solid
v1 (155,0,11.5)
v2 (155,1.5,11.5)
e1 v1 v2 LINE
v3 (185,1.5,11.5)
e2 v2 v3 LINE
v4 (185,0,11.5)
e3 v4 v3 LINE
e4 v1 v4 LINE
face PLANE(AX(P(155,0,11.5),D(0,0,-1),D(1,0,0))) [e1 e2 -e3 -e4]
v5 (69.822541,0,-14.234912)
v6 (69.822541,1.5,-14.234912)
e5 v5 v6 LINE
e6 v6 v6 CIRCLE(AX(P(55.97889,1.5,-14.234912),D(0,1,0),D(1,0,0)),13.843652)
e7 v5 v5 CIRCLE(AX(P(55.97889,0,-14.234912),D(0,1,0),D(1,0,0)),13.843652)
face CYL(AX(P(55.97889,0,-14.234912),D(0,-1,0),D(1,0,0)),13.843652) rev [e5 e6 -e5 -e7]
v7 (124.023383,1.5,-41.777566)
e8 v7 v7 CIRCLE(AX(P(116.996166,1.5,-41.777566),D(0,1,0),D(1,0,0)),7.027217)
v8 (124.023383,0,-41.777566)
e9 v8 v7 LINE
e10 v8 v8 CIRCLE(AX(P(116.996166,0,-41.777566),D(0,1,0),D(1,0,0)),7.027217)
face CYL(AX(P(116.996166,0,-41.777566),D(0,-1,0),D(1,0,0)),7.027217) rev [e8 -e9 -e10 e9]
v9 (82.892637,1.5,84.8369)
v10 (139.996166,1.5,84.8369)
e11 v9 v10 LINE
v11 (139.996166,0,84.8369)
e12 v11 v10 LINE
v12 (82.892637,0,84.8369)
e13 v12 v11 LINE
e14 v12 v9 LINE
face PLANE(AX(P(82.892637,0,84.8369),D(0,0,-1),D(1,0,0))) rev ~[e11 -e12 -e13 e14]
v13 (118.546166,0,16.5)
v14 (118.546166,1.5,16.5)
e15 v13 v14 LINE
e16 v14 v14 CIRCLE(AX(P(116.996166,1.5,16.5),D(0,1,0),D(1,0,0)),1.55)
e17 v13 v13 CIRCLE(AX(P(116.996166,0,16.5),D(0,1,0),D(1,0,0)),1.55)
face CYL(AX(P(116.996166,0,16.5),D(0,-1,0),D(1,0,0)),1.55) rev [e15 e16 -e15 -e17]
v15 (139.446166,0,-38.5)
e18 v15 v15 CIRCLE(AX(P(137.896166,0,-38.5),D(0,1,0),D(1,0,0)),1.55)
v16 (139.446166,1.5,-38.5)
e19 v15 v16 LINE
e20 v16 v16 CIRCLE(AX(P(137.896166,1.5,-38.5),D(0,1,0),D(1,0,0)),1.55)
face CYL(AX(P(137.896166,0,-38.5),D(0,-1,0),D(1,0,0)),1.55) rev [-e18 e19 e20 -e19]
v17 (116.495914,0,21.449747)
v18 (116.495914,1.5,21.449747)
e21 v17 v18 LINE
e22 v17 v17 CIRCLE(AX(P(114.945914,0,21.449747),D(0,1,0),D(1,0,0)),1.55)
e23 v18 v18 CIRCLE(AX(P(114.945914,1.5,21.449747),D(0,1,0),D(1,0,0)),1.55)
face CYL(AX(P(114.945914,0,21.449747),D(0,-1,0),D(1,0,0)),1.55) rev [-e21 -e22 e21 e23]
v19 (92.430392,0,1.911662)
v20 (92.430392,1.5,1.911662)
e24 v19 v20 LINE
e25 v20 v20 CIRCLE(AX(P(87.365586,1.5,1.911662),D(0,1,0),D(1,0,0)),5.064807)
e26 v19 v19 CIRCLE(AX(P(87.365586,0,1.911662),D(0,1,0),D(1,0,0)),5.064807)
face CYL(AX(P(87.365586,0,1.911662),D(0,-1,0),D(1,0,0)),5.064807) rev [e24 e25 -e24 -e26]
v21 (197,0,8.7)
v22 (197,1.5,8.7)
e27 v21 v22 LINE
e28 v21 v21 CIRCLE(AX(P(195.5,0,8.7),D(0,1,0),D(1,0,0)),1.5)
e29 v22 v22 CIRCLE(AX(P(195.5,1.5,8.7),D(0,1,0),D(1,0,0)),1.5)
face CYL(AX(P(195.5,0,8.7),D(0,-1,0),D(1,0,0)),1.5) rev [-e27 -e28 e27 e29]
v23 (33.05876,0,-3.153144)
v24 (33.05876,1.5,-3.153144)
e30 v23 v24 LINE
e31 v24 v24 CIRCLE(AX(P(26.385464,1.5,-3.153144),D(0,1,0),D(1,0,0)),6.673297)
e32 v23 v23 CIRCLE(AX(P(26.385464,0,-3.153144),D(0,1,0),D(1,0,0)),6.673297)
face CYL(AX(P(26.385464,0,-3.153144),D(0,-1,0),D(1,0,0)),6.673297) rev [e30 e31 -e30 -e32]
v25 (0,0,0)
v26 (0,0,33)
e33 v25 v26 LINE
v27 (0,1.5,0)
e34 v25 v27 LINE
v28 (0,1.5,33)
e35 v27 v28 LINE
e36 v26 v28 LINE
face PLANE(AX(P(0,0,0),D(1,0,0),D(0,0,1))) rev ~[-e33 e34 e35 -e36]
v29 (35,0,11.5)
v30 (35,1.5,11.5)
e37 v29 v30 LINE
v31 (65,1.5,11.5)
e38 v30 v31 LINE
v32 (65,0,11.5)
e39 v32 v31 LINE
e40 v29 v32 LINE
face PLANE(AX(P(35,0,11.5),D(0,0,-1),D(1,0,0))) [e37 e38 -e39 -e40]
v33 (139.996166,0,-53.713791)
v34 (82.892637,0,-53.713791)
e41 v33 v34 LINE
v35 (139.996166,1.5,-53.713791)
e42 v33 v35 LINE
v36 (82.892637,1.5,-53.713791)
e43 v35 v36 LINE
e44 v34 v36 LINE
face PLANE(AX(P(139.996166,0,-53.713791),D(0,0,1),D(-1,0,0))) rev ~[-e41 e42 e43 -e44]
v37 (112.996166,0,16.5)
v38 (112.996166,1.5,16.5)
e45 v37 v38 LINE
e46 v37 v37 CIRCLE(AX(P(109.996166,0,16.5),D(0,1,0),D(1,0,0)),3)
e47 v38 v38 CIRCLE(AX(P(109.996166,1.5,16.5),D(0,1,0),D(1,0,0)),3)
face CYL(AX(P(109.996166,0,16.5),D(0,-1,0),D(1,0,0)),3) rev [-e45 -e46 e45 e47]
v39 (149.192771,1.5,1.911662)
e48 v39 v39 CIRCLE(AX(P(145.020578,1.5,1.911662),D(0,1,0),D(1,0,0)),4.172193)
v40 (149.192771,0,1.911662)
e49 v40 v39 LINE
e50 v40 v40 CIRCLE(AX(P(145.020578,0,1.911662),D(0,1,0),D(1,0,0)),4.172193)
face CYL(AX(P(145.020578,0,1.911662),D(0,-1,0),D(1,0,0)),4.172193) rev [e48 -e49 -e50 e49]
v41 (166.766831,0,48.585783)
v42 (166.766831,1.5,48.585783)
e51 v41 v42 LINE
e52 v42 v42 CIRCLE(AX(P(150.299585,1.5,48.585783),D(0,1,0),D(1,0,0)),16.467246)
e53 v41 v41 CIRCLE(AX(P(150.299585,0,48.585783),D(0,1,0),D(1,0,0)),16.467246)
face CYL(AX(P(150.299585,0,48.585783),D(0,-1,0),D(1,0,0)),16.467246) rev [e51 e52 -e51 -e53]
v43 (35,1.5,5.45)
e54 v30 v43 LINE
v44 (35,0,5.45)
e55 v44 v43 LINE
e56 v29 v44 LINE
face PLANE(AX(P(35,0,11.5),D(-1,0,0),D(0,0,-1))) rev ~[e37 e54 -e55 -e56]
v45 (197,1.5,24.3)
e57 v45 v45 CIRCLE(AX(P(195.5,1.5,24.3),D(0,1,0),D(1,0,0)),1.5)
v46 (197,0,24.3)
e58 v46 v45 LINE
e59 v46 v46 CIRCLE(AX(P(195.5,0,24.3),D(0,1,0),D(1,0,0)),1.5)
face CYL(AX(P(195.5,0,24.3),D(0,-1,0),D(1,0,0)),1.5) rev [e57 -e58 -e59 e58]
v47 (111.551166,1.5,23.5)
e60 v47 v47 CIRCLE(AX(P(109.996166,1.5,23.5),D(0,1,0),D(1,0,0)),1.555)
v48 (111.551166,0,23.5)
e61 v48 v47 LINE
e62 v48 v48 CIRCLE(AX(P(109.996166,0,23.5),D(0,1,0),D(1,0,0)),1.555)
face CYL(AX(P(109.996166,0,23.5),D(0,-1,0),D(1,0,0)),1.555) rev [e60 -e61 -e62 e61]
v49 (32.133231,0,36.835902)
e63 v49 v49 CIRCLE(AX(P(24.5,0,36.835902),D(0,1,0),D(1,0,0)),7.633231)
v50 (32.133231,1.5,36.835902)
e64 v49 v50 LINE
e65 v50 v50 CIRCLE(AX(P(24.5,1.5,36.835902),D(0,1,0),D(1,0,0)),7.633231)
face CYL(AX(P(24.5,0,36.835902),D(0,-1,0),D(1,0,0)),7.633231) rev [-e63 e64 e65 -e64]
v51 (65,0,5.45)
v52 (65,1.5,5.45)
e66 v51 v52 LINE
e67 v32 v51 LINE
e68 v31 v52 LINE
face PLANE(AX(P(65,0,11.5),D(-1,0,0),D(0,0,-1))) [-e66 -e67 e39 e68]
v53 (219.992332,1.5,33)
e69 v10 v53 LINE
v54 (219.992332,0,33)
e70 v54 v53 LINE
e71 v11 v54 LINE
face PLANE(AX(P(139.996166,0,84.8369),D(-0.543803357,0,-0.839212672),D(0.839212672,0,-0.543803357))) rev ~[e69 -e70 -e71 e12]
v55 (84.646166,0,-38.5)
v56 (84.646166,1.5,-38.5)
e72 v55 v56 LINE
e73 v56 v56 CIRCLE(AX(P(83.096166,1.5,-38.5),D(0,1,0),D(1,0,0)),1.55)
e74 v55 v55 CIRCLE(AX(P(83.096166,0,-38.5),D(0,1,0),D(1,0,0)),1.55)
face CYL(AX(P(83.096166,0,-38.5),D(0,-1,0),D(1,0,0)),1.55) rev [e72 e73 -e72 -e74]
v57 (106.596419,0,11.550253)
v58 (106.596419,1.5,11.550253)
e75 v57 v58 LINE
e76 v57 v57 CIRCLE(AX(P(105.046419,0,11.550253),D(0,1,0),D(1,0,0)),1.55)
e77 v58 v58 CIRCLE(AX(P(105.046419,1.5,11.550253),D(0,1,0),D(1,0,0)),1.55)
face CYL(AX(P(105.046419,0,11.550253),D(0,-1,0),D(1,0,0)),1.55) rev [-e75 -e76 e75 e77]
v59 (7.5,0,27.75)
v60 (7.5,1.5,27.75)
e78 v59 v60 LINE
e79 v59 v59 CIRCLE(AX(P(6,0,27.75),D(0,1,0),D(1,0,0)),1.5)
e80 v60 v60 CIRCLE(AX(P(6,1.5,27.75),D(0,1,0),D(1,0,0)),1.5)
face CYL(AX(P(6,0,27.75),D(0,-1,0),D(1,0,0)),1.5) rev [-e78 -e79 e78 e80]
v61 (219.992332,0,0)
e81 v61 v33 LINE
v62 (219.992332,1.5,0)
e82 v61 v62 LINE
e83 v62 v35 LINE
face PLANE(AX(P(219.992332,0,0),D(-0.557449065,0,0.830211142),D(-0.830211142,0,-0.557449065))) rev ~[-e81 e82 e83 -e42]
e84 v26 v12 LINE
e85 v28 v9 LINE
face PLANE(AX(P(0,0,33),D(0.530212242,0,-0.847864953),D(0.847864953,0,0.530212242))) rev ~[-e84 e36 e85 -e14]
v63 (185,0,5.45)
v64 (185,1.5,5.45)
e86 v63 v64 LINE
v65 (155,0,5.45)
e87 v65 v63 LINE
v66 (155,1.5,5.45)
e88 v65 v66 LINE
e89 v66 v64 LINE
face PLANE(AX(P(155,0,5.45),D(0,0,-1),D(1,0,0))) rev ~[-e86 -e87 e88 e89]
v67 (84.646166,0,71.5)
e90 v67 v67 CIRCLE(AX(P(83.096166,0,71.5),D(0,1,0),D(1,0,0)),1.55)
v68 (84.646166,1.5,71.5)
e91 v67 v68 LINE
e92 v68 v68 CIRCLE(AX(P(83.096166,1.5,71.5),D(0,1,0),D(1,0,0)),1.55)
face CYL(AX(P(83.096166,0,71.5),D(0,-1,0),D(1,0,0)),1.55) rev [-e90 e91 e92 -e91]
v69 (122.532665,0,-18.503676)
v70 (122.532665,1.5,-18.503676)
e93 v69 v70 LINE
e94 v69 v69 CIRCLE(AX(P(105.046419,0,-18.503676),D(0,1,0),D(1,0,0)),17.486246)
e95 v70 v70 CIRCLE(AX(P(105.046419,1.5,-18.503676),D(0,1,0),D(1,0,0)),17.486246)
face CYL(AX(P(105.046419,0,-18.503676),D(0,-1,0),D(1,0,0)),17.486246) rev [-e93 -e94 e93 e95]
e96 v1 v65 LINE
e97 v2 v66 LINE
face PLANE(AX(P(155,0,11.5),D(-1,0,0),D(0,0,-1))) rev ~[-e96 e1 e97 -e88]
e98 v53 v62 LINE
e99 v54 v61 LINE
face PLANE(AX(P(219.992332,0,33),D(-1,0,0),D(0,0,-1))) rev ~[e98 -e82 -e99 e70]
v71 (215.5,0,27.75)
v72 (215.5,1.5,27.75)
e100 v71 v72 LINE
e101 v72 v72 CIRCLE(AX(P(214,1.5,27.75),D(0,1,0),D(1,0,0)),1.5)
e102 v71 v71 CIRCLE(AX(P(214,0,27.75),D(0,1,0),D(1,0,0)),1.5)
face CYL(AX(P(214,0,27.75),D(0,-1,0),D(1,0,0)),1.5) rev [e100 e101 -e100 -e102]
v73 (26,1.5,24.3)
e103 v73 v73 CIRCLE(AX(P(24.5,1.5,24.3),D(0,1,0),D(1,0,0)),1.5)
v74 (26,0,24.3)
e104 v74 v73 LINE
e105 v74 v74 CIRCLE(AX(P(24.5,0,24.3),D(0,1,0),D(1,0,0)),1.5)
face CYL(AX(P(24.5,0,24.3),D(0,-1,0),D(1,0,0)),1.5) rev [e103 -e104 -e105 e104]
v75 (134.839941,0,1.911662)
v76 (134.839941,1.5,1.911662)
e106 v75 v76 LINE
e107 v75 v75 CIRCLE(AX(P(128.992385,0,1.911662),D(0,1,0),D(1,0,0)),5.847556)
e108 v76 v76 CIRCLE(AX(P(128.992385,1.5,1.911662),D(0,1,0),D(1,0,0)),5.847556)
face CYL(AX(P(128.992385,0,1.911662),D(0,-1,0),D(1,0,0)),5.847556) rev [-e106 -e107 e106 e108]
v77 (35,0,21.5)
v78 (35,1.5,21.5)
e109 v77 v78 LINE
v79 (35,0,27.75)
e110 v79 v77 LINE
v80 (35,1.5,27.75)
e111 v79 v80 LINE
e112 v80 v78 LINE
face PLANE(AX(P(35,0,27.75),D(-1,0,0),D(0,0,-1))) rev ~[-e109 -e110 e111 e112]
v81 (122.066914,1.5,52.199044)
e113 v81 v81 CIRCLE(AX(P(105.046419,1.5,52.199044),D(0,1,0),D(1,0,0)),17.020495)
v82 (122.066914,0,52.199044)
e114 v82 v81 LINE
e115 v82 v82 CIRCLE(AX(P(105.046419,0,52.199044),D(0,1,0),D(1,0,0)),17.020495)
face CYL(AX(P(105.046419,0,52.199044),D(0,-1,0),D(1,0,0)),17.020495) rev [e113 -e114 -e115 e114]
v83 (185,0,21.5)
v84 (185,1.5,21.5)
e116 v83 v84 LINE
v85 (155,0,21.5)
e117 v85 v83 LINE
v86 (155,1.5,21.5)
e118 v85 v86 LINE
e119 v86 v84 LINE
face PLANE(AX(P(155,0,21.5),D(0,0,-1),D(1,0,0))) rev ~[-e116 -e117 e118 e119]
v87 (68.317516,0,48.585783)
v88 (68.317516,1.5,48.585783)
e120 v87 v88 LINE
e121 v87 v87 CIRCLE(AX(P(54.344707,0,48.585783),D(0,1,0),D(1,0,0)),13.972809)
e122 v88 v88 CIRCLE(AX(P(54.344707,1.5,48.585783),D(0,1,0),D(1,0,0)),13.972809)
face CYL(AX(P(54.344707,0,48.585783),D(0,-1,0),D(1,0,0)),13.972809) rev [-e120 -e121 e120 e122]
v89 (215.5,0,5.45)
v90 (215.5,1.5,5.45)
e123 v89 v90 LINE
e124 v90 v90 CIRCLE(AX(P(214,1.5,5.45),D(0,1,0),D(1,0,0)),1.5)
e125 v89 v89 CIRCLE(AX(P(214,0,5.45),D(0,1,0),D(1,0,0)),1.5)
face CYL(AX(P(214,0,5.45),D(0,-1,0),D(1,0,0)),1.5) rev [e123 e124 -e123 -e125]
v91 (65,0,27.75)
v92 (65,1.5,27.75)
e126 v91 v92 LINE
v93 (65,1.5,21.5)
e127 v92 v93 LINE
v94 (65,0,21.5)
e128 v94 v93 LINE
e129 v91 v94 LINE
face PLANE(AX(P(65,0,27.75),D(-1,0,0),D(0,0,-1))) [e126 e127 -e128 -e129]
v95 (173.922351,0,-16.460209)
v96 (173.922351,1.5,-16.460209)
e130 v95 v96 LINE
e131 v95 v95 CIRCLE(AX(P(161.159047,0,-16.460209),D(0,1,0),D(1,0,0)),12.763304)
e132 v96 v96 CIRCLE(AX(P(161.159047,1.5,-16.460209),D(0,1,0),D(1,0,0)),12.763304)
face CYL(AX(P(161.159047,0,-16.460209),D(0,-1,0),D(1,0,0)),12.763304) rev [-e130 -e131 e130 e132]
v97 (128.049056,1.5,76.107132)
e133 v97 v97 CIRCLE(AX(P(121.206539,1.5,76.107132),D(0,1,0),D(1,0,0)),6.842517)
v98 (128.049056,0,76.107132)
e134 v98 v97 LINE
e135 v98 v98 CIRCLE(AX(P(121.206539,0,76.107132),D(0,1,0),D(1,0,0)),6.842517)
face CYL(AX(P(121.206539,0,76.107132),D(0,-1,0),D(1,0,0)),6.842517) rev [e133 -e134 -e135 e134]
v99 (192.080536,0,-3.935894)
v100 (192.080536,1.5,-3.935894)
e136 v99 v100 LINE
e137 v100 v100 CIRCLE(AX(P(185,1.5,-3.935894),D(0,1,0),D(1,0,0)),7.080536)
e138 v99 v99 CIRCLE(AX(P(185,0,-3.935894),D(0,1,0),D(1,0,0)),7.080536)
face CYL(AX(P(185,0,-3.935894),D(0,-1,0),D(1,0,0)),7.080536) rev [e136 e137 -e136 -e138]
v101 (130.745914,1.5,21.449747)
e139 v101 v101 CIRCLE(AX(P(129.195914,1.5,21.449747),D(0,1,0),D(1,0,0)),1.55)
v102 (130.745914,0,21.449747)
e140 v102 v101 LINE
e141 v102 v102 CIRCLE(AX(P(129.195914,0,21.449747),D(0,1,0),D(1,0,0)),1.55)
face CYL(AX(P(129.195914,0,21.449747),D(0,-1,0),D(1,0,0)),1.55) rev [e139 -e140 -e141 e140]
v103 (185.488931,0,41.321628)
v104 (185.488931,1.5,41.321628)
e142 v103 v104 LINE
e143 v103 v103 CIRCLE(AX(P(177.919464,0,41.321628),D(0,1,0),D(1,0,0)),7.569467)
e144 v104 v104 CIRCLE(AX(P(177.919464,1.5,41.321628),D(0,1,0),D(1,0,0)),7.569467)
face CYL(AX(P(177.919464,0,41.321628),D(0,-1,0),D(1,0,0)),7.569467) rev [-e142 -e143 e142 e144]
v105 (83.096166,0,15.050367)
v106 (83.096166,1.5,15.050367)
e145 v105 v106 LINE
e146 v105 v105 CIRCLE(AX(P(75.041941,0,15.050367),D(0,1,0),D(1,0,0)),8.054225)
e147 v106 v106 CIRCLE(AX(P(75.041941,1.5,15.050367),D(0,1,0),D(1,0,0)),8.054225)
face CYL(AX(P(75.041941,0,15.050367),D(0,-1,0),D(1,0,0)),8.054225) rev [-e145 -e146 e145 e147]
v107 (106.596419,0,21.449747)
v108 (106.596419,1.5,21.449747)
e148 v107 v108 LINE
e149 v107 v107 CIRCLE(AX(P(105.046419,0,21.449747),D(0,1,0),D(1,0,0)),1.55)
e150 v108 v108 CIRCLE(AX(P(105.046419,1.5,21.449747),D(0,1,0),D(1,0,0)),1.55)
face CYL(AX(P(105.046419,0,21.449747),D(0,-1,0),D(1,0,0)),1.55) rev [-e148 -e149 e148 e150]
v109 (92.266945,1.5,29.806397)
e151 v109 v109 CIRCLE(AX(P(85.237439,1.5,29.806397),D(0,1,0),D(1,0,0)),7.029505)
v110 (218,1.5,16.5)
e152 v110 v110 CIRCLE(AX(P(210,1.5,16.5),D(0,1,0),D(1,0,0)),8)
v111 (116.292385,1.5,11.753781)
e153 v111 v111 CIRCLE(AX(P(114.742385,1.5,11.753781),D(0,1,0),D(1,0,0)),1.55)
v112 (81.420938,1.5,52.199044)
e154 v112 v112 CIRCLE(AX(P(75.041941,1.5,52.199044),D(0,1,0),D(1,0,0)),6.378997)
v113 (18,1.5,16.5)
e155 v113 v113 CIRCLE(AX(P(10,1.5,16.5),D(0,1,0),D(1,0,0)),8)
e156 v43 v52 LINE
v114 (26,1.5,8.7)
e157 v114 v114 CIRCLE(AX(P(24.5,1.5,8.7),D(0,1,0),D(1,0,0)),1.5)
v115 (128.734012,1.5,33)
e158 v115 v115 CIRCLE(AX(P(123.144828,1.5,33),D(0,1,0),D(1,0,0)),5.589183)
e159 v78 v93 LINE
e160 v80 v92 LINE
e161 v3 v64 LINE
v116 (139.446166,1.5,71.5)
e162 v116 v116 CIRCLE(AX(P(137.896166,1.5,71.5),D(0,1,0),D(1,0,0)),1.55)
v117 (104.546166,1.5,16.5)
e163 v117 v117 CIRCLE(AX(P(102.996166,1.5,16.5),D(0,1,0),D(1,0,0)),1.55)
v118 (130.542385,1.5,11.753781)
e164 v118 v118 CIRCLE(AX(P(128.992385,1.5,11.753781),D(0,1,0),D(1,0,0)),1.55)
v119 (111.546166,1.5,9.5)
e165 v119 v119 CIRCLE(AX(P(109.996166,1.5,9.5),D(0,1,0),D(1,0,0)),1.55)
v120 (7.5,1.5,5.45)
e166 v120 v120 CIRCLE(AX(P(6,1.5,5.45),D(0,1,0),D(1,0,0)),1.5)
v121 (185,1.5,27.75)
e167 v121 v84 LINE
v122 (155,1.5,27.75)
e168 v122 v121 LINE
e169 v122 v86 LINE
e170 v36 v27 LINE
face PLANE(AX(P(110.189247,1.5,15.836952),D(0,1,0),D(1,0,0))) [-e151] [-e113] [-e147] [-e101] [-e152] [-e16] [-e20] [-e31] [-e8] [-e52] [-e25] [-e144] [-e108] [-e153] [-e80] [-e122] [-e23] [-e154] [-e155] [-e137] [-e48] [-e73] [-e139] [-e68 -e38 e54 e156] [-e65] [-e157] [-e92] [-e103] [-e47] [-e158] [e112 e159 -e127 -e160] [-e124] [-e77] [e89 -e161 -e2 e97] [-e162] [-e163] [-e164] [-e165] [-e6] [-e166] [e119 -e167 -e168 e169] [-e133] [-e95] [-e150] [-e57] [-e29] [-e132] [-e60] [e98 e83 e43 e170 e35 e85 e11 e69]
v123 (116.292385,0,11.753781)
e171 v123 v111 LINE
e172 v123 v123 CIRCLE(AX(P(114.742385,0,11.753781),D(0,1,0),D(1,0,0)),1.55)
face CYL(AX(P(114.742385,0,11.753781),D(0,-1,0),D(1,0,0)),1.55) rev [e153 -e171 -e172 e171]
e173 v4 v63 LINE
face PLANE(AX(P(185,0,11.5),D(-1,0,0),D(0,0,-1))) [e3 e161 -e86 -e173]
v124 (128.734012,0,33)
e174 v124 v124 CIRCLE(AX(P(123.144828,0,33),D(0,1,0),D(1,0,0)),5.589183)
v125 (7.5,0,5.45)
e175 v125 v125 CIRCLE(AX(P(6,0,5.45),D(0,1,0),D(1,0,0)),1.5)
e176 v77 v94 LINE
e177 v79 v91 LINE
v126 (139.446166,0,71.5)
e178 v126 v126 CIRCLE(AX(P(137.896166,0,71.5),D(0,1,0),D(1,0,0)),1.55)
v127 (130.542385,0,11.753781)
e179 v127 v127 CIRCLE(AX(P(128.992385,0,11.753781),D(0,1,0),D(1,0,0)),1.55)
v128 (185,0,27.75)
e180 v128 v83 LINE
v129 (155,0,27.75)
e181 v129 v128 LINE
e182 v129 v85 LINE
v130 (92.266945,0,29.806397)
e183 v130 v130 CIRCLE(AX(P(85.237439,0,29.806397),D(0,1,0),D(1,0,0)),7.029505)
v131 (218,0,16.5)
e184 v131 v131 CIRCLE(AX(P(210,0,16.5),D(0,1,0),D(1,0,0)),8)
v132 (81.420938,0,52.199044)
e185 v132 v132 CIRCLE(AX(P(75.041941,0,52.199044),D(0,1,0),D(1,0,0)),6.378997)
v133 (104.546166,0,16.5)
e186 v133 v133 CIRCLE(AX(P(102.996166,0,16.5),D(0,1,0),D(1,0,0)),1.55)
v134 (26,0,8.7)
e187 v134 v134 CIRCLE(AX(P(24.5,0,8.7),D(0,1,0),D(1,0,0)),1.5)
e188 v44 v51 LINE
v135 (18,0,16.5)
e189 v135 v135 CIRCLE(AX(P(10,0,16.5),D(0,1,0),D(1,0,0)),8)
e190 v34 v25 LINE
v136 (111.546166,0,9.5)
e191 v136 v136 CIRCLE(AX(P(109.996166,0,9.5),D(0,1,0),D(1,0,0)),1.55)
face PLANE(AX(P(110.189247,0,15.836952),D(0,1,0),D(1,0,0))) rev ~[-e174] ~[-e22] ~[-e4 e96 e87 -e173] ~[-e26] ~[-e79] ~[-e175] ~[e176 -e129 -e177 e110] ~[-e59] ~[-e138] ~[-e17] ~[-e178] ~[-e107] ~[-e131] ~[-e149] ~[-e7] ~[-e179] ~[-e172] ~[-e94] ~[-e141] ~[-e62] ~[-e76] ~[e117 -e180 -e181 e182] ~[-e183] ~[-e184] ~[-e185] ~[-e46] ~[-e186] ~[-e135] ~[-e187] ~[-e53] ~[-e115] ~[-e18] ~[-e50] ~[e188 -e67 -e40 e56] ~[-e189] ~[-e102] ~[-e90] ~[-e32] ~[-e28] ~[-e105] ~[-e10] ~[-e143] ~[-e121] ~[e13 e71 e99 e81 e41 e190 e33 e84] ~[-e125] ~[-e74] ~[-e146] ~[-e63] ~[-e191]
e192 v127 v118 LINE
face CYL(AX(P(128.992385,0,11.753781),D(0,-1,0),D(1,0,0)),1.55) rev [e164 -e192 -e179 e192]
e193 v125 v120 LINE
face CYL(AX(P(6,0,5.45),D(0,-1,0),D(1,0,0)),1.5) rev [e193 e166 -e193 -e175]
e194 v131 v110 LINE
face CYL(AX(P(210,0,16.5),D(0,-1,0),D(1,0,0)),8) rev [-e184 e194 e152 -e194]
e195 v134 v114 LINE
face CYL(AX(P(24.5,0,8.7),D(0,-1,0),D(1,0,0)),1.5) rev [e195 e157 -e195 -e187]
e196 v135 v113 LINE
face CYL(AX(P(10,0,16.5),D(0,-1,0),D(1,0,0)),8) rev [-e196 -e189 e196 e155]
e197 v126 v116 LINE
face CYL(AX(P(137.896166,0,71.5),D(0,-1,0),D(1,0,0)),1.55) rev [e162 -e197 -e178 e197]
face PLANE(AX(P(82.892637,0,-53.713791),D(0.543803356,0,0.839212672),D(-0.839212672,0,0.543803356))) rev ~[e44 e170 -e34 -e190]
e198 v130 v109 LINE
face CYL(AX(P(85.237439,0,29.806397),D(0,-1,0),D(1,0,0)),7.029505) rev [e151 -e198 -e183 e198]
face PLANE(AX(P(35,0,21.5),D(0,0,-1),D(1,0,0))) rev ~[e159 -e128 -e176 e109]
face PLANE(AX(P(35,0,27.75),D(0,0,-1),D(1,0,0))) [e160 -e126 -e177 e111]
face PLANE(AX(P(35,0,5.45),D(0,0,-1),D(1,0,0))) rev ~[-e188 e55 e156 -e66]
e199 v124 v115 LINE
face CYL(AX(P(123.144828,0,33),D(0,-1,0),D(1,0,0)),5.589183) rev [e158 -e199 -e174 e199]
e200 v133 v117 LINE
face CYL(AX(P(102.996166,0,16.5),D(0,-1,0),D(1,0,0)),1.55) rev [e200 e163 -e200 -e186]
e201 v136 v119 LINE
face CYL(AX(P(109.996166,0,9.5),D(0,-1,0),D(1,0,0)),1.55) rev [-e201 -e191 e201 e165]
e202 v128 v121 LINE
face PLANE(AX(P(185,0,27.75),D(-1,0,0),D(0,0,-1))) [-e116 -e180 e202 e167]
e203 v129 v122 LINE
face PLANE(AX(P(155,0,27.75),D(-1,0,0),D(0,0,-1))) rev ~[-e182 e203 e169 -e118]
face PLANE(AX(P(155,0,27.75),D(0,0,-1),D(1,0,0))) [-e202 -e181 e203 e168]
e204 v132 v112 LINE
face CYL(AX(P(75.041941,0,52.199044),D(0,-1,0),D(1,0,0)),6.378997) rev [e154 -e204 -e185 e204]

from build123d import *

# Parameters (mm, degrees)
SKETCH_1_R      = 1.5
SKETCH_1_R_2    = 1.55
SKETCH_1_R_3    = 8
SKETCH_1_R_4    = 1.555
SKETCH_1_R_5    = 3
SKETCH_1_R_6    = 17.486246266
SKETCH_1_R_7    = 17.020495335
SKETCH_1_R_8    = 16.467245603
SKETCH_1_R_9    = 13.84365186
SKETCH_1_R_10   = 12.763304461
SKETCH_1_R_11   = 13.972809186
SKETCH_1_R_12   = 7.02721673
SKETCH_1_R_13   = 8.054225091
SKETCH_1_R_14   = 7.029505311
SKETCH_1_R_15   = 5.06480667
SKETCH_1_R_16   = 5.84755638
SKETCH_1_R_17   = 4.172193425
SKETCH_1_R_18   = 7.080536247
SKETCH_1_R_19   = 7.569466987
SKETCH_1_R_20   = 6.673296635
SKETCH_1_R_21   = 7.63323109
SKETCH_1_R_22   = 6.378997066
SKETCH_1_R_23   = 6.842517181
SKETCH_1_R_24   = 5.589183479
SKETCH_1_W      = 30
SKETCH_1_H      = 6.05
SKETCH_1_H_2    = 6.25
EXTRUDE_1_DEPTH = 1.5


with BuildPart() as part:
    # 草图1 → 凸台-拉伸1 (new body)
    with BuildSketch(Plane(origin=(0, 0, 0), x_dir=(1, 0, 0), z_dir=(0, 1, 0))):
        Polygon((0, -33), (82.892637189, -84.836900302), (139.996166095, -84.836900302), (219.992332189, -33), (219.992332189, 0), (139.996166095, 53.713791291), (82.892637189, 53.713791291), (0, 0), align=None)
        with Locations((6, -27.75)):
            Circle(SKETCH_1_R, mode=Mode.SUBTRACT)
        with Locations((6, -5.45)):
            Circle(SKETCH_1_R, mode=Mode.SUBTRACT)
        with Locations((24.5, -8.7)):
            Circle(SKETCH_1_R, mode=Mode.SUBTRACT)
        with Locations((24.5, -24.3)):
            Circle(SKETCH_1_R, mode=Mode.SUBTRACT)
        with Locations((195.5, -8.7)):
            Circle(SKETCH_1_R, mode=Mode.SUBTRACT)
        with Locations((195.5, -24.3)):
            Circle(SKETCH_1_R, mode=Mode.SUBTRACT)
        with Locations((214, -27.75)):
            Circle(SKETCH_1_R, mode=Mode.SUBTRACT)
        with Locations((214, -5.45)):
            Circle(SKETCH_1_R, mode=Mode.SUBTRACT)
        with Locations((105.046418626, -21.449747468)):
            Circle(SKETCH_1_R_2, mode=Mode.SUBTRACT)
        with Locations((114.945913563, -21.449747468)):
            Circle(SKETCH_1_R_2, mode=Mode.SUBTRACT)
        with Locations((10, -16.5)):
            Circle(SKETCH_1_R_3, mode=Mode.SUBTRACT)
        with Locations((210, -16.5)):
            Circle(SKETCH_1_R_3, mode=Mode.SUBTRACT)
        with Locations((114.742384657, -11.753781438)):
            Circle(SKETCH_1_R_2, mode=Mode.SUBTRACT)
        with Locations((83.096166095, 38.5)):
            Circle(SKETCH_1_R_2, mode=Mode.SUBTRACT)
        with Locations((105.046418626, -11.550252532)):
            Circle(SKETCH_1_R_2, mode=Mode.SUBTRACT)
        with Locations((102.996166095, -16.5)):
            Circle(SKETCH_1_R_2, mode=Mode.SUBTRACT)
        with Locations((109.996166095, -23.5)):
            Circle(SKETCH_1_R_4, mode=Mode.SUBTRACT)
        with Locations((116.996166095, -16.5)):
            Circle(SKETCH_1_R_2, mode=Mode.SUBTRACT)
        with Locations((109.996166095, -9.5)):
            Circle(SKETCH_1_R_2, mode=Mode.SUBTRACT)
        with Locations((109.996166095, -16.5)):
            Circle(SKETCH_1_R_5, mode=Mode.SUBTRACT)
        with Locations((129.195913563, -21.449747468)):
            Circle(SKETCH_1_R_2, mode=Mode.SUBTRACT)
        with Locations((128.992384657, -11.753781438)):
            Circle(SKETCH_1_R_2, mode=Mode.SUBTRACT)
        with Locations((137.896166095, 38.5)):
            Circle(SKETCH_1_R_2, mode=Mode.SUBTRACT)
        with Locations((137.896166095, -71.5)):
            Circle(SKETCH_1_R_2, mode=Mode.SUBTRACT)
        with Locations((83.096166095, -71.5)):
            Circle(SKETCH_1_R_2, mode=Mode.SUBTRACT)
        with Locations((105.046418626, 18.503675588)):
            Circle(SKETCH_1_R_6, mode=Mode.SUBTRACT)
        with Locations((105.046418626, -52.199044439)):
            Circle(SKETCH_1_R_7, mode=Mode.SUBTRACT)
        with Locations((150.29958532, -48.585783177)):
            Circle(SKETCH_1_R_8, mode=Mode.SUBTRACT)
        with Locations((55.978889615, 14.234912262)):
            Circle(SKETCH_1_R_9, mode=Mode.SUBTRACT)
        with Locations((161.159046839, 16.460208899)):
            Circle(SKETCH_1_R_10, mode=Mode.SUBTRACT)
        with Locations((54.344707062, -48.585783177)):
            Circle(SKETCH_1_R_11, mode=Mode.SUBTRACT)
        with Locations((116.996166095, 41.77756602)):
            Circle(SKETCH_1_R_12, mode=Mode.SUBTRACT)
        with Locations((75.041941004, -15.050367065)):
            Circle(SKETCH_1_R_13, mode=Mode.SUBTRACT)
        with Locations((85.237439413, -29.806396783)):
            Circle(SKETCH_1_R_14, mode=Mode.SUBTRACT)
        with Locations((87.36558551, -1.911662428)):
            Circle(SKETCH_1_R_15, mode=Mode.SUBTRACT)
        with Locations((128.992384657, -1.911662428)):
            Circle(SKETCH_1_R_16, mode=Mode.SUBTRACT)
        with Locations((145.020577925, -1.911662428)):
            Circle(SKETCH_1_R_17, mode=Mode.SUBTRACT)
        with Locations((185, 3.935893952)):
            Circle(SKETCH_1_R_18, mode=Mode.SUBTRACT)
        with Locations((177.919463753, -41.321628131)):
            Circle(SKETCH_1_R_19, mode=Mode.SUBTRACT)
        with Locations((26.38546357, 3.153144243)):
            Circle(SKETCH_1_R_20, mode=Mode.SUBTRACT)
        with Locations((24.5, -36.835902094)):
            Circle(SKETCH_1_R_21, mode=Mode.SUBTRACT)
        with Locations((75.041941004, -52.199044439)):
            Circle(SKETCH_1_R_22, mode=Mode.SUBTRACT)
        with Locations((121.206538505, -76.107131723)):
            Circle(SKETCH_1_R_23, mode=Mode.SUBTRACT)
        with Locations((123.144828277, -33)):
            Circle(SKETCH_1_R_24, mode=Mode.SUBTRACT)
        with Locations((170, -8.475)):
            Rectangle(SKETCH_1_W, SKETCH_1_H, mode=Mode.SUBTRACT)
        with Locations((170, -24.625)):
            Rectangle(SKETCH_1_W, SKETCH_1_H_2, mode=Mode.SUBTRACT)
        with Locations((50, -24.625)):
            Rectangle(SKETCH_1_W, SKETCH_1_H_2, mode=Mode.SUBTRACT)
        with Locations((50, -8.475)):
            Rectangle(SKETCH_1_W, SKETCH_1_H, mode=Mode.SUBTRACT)
    extrude(amount=EXTRUDE_1_DEPTH)


solid = part.part
